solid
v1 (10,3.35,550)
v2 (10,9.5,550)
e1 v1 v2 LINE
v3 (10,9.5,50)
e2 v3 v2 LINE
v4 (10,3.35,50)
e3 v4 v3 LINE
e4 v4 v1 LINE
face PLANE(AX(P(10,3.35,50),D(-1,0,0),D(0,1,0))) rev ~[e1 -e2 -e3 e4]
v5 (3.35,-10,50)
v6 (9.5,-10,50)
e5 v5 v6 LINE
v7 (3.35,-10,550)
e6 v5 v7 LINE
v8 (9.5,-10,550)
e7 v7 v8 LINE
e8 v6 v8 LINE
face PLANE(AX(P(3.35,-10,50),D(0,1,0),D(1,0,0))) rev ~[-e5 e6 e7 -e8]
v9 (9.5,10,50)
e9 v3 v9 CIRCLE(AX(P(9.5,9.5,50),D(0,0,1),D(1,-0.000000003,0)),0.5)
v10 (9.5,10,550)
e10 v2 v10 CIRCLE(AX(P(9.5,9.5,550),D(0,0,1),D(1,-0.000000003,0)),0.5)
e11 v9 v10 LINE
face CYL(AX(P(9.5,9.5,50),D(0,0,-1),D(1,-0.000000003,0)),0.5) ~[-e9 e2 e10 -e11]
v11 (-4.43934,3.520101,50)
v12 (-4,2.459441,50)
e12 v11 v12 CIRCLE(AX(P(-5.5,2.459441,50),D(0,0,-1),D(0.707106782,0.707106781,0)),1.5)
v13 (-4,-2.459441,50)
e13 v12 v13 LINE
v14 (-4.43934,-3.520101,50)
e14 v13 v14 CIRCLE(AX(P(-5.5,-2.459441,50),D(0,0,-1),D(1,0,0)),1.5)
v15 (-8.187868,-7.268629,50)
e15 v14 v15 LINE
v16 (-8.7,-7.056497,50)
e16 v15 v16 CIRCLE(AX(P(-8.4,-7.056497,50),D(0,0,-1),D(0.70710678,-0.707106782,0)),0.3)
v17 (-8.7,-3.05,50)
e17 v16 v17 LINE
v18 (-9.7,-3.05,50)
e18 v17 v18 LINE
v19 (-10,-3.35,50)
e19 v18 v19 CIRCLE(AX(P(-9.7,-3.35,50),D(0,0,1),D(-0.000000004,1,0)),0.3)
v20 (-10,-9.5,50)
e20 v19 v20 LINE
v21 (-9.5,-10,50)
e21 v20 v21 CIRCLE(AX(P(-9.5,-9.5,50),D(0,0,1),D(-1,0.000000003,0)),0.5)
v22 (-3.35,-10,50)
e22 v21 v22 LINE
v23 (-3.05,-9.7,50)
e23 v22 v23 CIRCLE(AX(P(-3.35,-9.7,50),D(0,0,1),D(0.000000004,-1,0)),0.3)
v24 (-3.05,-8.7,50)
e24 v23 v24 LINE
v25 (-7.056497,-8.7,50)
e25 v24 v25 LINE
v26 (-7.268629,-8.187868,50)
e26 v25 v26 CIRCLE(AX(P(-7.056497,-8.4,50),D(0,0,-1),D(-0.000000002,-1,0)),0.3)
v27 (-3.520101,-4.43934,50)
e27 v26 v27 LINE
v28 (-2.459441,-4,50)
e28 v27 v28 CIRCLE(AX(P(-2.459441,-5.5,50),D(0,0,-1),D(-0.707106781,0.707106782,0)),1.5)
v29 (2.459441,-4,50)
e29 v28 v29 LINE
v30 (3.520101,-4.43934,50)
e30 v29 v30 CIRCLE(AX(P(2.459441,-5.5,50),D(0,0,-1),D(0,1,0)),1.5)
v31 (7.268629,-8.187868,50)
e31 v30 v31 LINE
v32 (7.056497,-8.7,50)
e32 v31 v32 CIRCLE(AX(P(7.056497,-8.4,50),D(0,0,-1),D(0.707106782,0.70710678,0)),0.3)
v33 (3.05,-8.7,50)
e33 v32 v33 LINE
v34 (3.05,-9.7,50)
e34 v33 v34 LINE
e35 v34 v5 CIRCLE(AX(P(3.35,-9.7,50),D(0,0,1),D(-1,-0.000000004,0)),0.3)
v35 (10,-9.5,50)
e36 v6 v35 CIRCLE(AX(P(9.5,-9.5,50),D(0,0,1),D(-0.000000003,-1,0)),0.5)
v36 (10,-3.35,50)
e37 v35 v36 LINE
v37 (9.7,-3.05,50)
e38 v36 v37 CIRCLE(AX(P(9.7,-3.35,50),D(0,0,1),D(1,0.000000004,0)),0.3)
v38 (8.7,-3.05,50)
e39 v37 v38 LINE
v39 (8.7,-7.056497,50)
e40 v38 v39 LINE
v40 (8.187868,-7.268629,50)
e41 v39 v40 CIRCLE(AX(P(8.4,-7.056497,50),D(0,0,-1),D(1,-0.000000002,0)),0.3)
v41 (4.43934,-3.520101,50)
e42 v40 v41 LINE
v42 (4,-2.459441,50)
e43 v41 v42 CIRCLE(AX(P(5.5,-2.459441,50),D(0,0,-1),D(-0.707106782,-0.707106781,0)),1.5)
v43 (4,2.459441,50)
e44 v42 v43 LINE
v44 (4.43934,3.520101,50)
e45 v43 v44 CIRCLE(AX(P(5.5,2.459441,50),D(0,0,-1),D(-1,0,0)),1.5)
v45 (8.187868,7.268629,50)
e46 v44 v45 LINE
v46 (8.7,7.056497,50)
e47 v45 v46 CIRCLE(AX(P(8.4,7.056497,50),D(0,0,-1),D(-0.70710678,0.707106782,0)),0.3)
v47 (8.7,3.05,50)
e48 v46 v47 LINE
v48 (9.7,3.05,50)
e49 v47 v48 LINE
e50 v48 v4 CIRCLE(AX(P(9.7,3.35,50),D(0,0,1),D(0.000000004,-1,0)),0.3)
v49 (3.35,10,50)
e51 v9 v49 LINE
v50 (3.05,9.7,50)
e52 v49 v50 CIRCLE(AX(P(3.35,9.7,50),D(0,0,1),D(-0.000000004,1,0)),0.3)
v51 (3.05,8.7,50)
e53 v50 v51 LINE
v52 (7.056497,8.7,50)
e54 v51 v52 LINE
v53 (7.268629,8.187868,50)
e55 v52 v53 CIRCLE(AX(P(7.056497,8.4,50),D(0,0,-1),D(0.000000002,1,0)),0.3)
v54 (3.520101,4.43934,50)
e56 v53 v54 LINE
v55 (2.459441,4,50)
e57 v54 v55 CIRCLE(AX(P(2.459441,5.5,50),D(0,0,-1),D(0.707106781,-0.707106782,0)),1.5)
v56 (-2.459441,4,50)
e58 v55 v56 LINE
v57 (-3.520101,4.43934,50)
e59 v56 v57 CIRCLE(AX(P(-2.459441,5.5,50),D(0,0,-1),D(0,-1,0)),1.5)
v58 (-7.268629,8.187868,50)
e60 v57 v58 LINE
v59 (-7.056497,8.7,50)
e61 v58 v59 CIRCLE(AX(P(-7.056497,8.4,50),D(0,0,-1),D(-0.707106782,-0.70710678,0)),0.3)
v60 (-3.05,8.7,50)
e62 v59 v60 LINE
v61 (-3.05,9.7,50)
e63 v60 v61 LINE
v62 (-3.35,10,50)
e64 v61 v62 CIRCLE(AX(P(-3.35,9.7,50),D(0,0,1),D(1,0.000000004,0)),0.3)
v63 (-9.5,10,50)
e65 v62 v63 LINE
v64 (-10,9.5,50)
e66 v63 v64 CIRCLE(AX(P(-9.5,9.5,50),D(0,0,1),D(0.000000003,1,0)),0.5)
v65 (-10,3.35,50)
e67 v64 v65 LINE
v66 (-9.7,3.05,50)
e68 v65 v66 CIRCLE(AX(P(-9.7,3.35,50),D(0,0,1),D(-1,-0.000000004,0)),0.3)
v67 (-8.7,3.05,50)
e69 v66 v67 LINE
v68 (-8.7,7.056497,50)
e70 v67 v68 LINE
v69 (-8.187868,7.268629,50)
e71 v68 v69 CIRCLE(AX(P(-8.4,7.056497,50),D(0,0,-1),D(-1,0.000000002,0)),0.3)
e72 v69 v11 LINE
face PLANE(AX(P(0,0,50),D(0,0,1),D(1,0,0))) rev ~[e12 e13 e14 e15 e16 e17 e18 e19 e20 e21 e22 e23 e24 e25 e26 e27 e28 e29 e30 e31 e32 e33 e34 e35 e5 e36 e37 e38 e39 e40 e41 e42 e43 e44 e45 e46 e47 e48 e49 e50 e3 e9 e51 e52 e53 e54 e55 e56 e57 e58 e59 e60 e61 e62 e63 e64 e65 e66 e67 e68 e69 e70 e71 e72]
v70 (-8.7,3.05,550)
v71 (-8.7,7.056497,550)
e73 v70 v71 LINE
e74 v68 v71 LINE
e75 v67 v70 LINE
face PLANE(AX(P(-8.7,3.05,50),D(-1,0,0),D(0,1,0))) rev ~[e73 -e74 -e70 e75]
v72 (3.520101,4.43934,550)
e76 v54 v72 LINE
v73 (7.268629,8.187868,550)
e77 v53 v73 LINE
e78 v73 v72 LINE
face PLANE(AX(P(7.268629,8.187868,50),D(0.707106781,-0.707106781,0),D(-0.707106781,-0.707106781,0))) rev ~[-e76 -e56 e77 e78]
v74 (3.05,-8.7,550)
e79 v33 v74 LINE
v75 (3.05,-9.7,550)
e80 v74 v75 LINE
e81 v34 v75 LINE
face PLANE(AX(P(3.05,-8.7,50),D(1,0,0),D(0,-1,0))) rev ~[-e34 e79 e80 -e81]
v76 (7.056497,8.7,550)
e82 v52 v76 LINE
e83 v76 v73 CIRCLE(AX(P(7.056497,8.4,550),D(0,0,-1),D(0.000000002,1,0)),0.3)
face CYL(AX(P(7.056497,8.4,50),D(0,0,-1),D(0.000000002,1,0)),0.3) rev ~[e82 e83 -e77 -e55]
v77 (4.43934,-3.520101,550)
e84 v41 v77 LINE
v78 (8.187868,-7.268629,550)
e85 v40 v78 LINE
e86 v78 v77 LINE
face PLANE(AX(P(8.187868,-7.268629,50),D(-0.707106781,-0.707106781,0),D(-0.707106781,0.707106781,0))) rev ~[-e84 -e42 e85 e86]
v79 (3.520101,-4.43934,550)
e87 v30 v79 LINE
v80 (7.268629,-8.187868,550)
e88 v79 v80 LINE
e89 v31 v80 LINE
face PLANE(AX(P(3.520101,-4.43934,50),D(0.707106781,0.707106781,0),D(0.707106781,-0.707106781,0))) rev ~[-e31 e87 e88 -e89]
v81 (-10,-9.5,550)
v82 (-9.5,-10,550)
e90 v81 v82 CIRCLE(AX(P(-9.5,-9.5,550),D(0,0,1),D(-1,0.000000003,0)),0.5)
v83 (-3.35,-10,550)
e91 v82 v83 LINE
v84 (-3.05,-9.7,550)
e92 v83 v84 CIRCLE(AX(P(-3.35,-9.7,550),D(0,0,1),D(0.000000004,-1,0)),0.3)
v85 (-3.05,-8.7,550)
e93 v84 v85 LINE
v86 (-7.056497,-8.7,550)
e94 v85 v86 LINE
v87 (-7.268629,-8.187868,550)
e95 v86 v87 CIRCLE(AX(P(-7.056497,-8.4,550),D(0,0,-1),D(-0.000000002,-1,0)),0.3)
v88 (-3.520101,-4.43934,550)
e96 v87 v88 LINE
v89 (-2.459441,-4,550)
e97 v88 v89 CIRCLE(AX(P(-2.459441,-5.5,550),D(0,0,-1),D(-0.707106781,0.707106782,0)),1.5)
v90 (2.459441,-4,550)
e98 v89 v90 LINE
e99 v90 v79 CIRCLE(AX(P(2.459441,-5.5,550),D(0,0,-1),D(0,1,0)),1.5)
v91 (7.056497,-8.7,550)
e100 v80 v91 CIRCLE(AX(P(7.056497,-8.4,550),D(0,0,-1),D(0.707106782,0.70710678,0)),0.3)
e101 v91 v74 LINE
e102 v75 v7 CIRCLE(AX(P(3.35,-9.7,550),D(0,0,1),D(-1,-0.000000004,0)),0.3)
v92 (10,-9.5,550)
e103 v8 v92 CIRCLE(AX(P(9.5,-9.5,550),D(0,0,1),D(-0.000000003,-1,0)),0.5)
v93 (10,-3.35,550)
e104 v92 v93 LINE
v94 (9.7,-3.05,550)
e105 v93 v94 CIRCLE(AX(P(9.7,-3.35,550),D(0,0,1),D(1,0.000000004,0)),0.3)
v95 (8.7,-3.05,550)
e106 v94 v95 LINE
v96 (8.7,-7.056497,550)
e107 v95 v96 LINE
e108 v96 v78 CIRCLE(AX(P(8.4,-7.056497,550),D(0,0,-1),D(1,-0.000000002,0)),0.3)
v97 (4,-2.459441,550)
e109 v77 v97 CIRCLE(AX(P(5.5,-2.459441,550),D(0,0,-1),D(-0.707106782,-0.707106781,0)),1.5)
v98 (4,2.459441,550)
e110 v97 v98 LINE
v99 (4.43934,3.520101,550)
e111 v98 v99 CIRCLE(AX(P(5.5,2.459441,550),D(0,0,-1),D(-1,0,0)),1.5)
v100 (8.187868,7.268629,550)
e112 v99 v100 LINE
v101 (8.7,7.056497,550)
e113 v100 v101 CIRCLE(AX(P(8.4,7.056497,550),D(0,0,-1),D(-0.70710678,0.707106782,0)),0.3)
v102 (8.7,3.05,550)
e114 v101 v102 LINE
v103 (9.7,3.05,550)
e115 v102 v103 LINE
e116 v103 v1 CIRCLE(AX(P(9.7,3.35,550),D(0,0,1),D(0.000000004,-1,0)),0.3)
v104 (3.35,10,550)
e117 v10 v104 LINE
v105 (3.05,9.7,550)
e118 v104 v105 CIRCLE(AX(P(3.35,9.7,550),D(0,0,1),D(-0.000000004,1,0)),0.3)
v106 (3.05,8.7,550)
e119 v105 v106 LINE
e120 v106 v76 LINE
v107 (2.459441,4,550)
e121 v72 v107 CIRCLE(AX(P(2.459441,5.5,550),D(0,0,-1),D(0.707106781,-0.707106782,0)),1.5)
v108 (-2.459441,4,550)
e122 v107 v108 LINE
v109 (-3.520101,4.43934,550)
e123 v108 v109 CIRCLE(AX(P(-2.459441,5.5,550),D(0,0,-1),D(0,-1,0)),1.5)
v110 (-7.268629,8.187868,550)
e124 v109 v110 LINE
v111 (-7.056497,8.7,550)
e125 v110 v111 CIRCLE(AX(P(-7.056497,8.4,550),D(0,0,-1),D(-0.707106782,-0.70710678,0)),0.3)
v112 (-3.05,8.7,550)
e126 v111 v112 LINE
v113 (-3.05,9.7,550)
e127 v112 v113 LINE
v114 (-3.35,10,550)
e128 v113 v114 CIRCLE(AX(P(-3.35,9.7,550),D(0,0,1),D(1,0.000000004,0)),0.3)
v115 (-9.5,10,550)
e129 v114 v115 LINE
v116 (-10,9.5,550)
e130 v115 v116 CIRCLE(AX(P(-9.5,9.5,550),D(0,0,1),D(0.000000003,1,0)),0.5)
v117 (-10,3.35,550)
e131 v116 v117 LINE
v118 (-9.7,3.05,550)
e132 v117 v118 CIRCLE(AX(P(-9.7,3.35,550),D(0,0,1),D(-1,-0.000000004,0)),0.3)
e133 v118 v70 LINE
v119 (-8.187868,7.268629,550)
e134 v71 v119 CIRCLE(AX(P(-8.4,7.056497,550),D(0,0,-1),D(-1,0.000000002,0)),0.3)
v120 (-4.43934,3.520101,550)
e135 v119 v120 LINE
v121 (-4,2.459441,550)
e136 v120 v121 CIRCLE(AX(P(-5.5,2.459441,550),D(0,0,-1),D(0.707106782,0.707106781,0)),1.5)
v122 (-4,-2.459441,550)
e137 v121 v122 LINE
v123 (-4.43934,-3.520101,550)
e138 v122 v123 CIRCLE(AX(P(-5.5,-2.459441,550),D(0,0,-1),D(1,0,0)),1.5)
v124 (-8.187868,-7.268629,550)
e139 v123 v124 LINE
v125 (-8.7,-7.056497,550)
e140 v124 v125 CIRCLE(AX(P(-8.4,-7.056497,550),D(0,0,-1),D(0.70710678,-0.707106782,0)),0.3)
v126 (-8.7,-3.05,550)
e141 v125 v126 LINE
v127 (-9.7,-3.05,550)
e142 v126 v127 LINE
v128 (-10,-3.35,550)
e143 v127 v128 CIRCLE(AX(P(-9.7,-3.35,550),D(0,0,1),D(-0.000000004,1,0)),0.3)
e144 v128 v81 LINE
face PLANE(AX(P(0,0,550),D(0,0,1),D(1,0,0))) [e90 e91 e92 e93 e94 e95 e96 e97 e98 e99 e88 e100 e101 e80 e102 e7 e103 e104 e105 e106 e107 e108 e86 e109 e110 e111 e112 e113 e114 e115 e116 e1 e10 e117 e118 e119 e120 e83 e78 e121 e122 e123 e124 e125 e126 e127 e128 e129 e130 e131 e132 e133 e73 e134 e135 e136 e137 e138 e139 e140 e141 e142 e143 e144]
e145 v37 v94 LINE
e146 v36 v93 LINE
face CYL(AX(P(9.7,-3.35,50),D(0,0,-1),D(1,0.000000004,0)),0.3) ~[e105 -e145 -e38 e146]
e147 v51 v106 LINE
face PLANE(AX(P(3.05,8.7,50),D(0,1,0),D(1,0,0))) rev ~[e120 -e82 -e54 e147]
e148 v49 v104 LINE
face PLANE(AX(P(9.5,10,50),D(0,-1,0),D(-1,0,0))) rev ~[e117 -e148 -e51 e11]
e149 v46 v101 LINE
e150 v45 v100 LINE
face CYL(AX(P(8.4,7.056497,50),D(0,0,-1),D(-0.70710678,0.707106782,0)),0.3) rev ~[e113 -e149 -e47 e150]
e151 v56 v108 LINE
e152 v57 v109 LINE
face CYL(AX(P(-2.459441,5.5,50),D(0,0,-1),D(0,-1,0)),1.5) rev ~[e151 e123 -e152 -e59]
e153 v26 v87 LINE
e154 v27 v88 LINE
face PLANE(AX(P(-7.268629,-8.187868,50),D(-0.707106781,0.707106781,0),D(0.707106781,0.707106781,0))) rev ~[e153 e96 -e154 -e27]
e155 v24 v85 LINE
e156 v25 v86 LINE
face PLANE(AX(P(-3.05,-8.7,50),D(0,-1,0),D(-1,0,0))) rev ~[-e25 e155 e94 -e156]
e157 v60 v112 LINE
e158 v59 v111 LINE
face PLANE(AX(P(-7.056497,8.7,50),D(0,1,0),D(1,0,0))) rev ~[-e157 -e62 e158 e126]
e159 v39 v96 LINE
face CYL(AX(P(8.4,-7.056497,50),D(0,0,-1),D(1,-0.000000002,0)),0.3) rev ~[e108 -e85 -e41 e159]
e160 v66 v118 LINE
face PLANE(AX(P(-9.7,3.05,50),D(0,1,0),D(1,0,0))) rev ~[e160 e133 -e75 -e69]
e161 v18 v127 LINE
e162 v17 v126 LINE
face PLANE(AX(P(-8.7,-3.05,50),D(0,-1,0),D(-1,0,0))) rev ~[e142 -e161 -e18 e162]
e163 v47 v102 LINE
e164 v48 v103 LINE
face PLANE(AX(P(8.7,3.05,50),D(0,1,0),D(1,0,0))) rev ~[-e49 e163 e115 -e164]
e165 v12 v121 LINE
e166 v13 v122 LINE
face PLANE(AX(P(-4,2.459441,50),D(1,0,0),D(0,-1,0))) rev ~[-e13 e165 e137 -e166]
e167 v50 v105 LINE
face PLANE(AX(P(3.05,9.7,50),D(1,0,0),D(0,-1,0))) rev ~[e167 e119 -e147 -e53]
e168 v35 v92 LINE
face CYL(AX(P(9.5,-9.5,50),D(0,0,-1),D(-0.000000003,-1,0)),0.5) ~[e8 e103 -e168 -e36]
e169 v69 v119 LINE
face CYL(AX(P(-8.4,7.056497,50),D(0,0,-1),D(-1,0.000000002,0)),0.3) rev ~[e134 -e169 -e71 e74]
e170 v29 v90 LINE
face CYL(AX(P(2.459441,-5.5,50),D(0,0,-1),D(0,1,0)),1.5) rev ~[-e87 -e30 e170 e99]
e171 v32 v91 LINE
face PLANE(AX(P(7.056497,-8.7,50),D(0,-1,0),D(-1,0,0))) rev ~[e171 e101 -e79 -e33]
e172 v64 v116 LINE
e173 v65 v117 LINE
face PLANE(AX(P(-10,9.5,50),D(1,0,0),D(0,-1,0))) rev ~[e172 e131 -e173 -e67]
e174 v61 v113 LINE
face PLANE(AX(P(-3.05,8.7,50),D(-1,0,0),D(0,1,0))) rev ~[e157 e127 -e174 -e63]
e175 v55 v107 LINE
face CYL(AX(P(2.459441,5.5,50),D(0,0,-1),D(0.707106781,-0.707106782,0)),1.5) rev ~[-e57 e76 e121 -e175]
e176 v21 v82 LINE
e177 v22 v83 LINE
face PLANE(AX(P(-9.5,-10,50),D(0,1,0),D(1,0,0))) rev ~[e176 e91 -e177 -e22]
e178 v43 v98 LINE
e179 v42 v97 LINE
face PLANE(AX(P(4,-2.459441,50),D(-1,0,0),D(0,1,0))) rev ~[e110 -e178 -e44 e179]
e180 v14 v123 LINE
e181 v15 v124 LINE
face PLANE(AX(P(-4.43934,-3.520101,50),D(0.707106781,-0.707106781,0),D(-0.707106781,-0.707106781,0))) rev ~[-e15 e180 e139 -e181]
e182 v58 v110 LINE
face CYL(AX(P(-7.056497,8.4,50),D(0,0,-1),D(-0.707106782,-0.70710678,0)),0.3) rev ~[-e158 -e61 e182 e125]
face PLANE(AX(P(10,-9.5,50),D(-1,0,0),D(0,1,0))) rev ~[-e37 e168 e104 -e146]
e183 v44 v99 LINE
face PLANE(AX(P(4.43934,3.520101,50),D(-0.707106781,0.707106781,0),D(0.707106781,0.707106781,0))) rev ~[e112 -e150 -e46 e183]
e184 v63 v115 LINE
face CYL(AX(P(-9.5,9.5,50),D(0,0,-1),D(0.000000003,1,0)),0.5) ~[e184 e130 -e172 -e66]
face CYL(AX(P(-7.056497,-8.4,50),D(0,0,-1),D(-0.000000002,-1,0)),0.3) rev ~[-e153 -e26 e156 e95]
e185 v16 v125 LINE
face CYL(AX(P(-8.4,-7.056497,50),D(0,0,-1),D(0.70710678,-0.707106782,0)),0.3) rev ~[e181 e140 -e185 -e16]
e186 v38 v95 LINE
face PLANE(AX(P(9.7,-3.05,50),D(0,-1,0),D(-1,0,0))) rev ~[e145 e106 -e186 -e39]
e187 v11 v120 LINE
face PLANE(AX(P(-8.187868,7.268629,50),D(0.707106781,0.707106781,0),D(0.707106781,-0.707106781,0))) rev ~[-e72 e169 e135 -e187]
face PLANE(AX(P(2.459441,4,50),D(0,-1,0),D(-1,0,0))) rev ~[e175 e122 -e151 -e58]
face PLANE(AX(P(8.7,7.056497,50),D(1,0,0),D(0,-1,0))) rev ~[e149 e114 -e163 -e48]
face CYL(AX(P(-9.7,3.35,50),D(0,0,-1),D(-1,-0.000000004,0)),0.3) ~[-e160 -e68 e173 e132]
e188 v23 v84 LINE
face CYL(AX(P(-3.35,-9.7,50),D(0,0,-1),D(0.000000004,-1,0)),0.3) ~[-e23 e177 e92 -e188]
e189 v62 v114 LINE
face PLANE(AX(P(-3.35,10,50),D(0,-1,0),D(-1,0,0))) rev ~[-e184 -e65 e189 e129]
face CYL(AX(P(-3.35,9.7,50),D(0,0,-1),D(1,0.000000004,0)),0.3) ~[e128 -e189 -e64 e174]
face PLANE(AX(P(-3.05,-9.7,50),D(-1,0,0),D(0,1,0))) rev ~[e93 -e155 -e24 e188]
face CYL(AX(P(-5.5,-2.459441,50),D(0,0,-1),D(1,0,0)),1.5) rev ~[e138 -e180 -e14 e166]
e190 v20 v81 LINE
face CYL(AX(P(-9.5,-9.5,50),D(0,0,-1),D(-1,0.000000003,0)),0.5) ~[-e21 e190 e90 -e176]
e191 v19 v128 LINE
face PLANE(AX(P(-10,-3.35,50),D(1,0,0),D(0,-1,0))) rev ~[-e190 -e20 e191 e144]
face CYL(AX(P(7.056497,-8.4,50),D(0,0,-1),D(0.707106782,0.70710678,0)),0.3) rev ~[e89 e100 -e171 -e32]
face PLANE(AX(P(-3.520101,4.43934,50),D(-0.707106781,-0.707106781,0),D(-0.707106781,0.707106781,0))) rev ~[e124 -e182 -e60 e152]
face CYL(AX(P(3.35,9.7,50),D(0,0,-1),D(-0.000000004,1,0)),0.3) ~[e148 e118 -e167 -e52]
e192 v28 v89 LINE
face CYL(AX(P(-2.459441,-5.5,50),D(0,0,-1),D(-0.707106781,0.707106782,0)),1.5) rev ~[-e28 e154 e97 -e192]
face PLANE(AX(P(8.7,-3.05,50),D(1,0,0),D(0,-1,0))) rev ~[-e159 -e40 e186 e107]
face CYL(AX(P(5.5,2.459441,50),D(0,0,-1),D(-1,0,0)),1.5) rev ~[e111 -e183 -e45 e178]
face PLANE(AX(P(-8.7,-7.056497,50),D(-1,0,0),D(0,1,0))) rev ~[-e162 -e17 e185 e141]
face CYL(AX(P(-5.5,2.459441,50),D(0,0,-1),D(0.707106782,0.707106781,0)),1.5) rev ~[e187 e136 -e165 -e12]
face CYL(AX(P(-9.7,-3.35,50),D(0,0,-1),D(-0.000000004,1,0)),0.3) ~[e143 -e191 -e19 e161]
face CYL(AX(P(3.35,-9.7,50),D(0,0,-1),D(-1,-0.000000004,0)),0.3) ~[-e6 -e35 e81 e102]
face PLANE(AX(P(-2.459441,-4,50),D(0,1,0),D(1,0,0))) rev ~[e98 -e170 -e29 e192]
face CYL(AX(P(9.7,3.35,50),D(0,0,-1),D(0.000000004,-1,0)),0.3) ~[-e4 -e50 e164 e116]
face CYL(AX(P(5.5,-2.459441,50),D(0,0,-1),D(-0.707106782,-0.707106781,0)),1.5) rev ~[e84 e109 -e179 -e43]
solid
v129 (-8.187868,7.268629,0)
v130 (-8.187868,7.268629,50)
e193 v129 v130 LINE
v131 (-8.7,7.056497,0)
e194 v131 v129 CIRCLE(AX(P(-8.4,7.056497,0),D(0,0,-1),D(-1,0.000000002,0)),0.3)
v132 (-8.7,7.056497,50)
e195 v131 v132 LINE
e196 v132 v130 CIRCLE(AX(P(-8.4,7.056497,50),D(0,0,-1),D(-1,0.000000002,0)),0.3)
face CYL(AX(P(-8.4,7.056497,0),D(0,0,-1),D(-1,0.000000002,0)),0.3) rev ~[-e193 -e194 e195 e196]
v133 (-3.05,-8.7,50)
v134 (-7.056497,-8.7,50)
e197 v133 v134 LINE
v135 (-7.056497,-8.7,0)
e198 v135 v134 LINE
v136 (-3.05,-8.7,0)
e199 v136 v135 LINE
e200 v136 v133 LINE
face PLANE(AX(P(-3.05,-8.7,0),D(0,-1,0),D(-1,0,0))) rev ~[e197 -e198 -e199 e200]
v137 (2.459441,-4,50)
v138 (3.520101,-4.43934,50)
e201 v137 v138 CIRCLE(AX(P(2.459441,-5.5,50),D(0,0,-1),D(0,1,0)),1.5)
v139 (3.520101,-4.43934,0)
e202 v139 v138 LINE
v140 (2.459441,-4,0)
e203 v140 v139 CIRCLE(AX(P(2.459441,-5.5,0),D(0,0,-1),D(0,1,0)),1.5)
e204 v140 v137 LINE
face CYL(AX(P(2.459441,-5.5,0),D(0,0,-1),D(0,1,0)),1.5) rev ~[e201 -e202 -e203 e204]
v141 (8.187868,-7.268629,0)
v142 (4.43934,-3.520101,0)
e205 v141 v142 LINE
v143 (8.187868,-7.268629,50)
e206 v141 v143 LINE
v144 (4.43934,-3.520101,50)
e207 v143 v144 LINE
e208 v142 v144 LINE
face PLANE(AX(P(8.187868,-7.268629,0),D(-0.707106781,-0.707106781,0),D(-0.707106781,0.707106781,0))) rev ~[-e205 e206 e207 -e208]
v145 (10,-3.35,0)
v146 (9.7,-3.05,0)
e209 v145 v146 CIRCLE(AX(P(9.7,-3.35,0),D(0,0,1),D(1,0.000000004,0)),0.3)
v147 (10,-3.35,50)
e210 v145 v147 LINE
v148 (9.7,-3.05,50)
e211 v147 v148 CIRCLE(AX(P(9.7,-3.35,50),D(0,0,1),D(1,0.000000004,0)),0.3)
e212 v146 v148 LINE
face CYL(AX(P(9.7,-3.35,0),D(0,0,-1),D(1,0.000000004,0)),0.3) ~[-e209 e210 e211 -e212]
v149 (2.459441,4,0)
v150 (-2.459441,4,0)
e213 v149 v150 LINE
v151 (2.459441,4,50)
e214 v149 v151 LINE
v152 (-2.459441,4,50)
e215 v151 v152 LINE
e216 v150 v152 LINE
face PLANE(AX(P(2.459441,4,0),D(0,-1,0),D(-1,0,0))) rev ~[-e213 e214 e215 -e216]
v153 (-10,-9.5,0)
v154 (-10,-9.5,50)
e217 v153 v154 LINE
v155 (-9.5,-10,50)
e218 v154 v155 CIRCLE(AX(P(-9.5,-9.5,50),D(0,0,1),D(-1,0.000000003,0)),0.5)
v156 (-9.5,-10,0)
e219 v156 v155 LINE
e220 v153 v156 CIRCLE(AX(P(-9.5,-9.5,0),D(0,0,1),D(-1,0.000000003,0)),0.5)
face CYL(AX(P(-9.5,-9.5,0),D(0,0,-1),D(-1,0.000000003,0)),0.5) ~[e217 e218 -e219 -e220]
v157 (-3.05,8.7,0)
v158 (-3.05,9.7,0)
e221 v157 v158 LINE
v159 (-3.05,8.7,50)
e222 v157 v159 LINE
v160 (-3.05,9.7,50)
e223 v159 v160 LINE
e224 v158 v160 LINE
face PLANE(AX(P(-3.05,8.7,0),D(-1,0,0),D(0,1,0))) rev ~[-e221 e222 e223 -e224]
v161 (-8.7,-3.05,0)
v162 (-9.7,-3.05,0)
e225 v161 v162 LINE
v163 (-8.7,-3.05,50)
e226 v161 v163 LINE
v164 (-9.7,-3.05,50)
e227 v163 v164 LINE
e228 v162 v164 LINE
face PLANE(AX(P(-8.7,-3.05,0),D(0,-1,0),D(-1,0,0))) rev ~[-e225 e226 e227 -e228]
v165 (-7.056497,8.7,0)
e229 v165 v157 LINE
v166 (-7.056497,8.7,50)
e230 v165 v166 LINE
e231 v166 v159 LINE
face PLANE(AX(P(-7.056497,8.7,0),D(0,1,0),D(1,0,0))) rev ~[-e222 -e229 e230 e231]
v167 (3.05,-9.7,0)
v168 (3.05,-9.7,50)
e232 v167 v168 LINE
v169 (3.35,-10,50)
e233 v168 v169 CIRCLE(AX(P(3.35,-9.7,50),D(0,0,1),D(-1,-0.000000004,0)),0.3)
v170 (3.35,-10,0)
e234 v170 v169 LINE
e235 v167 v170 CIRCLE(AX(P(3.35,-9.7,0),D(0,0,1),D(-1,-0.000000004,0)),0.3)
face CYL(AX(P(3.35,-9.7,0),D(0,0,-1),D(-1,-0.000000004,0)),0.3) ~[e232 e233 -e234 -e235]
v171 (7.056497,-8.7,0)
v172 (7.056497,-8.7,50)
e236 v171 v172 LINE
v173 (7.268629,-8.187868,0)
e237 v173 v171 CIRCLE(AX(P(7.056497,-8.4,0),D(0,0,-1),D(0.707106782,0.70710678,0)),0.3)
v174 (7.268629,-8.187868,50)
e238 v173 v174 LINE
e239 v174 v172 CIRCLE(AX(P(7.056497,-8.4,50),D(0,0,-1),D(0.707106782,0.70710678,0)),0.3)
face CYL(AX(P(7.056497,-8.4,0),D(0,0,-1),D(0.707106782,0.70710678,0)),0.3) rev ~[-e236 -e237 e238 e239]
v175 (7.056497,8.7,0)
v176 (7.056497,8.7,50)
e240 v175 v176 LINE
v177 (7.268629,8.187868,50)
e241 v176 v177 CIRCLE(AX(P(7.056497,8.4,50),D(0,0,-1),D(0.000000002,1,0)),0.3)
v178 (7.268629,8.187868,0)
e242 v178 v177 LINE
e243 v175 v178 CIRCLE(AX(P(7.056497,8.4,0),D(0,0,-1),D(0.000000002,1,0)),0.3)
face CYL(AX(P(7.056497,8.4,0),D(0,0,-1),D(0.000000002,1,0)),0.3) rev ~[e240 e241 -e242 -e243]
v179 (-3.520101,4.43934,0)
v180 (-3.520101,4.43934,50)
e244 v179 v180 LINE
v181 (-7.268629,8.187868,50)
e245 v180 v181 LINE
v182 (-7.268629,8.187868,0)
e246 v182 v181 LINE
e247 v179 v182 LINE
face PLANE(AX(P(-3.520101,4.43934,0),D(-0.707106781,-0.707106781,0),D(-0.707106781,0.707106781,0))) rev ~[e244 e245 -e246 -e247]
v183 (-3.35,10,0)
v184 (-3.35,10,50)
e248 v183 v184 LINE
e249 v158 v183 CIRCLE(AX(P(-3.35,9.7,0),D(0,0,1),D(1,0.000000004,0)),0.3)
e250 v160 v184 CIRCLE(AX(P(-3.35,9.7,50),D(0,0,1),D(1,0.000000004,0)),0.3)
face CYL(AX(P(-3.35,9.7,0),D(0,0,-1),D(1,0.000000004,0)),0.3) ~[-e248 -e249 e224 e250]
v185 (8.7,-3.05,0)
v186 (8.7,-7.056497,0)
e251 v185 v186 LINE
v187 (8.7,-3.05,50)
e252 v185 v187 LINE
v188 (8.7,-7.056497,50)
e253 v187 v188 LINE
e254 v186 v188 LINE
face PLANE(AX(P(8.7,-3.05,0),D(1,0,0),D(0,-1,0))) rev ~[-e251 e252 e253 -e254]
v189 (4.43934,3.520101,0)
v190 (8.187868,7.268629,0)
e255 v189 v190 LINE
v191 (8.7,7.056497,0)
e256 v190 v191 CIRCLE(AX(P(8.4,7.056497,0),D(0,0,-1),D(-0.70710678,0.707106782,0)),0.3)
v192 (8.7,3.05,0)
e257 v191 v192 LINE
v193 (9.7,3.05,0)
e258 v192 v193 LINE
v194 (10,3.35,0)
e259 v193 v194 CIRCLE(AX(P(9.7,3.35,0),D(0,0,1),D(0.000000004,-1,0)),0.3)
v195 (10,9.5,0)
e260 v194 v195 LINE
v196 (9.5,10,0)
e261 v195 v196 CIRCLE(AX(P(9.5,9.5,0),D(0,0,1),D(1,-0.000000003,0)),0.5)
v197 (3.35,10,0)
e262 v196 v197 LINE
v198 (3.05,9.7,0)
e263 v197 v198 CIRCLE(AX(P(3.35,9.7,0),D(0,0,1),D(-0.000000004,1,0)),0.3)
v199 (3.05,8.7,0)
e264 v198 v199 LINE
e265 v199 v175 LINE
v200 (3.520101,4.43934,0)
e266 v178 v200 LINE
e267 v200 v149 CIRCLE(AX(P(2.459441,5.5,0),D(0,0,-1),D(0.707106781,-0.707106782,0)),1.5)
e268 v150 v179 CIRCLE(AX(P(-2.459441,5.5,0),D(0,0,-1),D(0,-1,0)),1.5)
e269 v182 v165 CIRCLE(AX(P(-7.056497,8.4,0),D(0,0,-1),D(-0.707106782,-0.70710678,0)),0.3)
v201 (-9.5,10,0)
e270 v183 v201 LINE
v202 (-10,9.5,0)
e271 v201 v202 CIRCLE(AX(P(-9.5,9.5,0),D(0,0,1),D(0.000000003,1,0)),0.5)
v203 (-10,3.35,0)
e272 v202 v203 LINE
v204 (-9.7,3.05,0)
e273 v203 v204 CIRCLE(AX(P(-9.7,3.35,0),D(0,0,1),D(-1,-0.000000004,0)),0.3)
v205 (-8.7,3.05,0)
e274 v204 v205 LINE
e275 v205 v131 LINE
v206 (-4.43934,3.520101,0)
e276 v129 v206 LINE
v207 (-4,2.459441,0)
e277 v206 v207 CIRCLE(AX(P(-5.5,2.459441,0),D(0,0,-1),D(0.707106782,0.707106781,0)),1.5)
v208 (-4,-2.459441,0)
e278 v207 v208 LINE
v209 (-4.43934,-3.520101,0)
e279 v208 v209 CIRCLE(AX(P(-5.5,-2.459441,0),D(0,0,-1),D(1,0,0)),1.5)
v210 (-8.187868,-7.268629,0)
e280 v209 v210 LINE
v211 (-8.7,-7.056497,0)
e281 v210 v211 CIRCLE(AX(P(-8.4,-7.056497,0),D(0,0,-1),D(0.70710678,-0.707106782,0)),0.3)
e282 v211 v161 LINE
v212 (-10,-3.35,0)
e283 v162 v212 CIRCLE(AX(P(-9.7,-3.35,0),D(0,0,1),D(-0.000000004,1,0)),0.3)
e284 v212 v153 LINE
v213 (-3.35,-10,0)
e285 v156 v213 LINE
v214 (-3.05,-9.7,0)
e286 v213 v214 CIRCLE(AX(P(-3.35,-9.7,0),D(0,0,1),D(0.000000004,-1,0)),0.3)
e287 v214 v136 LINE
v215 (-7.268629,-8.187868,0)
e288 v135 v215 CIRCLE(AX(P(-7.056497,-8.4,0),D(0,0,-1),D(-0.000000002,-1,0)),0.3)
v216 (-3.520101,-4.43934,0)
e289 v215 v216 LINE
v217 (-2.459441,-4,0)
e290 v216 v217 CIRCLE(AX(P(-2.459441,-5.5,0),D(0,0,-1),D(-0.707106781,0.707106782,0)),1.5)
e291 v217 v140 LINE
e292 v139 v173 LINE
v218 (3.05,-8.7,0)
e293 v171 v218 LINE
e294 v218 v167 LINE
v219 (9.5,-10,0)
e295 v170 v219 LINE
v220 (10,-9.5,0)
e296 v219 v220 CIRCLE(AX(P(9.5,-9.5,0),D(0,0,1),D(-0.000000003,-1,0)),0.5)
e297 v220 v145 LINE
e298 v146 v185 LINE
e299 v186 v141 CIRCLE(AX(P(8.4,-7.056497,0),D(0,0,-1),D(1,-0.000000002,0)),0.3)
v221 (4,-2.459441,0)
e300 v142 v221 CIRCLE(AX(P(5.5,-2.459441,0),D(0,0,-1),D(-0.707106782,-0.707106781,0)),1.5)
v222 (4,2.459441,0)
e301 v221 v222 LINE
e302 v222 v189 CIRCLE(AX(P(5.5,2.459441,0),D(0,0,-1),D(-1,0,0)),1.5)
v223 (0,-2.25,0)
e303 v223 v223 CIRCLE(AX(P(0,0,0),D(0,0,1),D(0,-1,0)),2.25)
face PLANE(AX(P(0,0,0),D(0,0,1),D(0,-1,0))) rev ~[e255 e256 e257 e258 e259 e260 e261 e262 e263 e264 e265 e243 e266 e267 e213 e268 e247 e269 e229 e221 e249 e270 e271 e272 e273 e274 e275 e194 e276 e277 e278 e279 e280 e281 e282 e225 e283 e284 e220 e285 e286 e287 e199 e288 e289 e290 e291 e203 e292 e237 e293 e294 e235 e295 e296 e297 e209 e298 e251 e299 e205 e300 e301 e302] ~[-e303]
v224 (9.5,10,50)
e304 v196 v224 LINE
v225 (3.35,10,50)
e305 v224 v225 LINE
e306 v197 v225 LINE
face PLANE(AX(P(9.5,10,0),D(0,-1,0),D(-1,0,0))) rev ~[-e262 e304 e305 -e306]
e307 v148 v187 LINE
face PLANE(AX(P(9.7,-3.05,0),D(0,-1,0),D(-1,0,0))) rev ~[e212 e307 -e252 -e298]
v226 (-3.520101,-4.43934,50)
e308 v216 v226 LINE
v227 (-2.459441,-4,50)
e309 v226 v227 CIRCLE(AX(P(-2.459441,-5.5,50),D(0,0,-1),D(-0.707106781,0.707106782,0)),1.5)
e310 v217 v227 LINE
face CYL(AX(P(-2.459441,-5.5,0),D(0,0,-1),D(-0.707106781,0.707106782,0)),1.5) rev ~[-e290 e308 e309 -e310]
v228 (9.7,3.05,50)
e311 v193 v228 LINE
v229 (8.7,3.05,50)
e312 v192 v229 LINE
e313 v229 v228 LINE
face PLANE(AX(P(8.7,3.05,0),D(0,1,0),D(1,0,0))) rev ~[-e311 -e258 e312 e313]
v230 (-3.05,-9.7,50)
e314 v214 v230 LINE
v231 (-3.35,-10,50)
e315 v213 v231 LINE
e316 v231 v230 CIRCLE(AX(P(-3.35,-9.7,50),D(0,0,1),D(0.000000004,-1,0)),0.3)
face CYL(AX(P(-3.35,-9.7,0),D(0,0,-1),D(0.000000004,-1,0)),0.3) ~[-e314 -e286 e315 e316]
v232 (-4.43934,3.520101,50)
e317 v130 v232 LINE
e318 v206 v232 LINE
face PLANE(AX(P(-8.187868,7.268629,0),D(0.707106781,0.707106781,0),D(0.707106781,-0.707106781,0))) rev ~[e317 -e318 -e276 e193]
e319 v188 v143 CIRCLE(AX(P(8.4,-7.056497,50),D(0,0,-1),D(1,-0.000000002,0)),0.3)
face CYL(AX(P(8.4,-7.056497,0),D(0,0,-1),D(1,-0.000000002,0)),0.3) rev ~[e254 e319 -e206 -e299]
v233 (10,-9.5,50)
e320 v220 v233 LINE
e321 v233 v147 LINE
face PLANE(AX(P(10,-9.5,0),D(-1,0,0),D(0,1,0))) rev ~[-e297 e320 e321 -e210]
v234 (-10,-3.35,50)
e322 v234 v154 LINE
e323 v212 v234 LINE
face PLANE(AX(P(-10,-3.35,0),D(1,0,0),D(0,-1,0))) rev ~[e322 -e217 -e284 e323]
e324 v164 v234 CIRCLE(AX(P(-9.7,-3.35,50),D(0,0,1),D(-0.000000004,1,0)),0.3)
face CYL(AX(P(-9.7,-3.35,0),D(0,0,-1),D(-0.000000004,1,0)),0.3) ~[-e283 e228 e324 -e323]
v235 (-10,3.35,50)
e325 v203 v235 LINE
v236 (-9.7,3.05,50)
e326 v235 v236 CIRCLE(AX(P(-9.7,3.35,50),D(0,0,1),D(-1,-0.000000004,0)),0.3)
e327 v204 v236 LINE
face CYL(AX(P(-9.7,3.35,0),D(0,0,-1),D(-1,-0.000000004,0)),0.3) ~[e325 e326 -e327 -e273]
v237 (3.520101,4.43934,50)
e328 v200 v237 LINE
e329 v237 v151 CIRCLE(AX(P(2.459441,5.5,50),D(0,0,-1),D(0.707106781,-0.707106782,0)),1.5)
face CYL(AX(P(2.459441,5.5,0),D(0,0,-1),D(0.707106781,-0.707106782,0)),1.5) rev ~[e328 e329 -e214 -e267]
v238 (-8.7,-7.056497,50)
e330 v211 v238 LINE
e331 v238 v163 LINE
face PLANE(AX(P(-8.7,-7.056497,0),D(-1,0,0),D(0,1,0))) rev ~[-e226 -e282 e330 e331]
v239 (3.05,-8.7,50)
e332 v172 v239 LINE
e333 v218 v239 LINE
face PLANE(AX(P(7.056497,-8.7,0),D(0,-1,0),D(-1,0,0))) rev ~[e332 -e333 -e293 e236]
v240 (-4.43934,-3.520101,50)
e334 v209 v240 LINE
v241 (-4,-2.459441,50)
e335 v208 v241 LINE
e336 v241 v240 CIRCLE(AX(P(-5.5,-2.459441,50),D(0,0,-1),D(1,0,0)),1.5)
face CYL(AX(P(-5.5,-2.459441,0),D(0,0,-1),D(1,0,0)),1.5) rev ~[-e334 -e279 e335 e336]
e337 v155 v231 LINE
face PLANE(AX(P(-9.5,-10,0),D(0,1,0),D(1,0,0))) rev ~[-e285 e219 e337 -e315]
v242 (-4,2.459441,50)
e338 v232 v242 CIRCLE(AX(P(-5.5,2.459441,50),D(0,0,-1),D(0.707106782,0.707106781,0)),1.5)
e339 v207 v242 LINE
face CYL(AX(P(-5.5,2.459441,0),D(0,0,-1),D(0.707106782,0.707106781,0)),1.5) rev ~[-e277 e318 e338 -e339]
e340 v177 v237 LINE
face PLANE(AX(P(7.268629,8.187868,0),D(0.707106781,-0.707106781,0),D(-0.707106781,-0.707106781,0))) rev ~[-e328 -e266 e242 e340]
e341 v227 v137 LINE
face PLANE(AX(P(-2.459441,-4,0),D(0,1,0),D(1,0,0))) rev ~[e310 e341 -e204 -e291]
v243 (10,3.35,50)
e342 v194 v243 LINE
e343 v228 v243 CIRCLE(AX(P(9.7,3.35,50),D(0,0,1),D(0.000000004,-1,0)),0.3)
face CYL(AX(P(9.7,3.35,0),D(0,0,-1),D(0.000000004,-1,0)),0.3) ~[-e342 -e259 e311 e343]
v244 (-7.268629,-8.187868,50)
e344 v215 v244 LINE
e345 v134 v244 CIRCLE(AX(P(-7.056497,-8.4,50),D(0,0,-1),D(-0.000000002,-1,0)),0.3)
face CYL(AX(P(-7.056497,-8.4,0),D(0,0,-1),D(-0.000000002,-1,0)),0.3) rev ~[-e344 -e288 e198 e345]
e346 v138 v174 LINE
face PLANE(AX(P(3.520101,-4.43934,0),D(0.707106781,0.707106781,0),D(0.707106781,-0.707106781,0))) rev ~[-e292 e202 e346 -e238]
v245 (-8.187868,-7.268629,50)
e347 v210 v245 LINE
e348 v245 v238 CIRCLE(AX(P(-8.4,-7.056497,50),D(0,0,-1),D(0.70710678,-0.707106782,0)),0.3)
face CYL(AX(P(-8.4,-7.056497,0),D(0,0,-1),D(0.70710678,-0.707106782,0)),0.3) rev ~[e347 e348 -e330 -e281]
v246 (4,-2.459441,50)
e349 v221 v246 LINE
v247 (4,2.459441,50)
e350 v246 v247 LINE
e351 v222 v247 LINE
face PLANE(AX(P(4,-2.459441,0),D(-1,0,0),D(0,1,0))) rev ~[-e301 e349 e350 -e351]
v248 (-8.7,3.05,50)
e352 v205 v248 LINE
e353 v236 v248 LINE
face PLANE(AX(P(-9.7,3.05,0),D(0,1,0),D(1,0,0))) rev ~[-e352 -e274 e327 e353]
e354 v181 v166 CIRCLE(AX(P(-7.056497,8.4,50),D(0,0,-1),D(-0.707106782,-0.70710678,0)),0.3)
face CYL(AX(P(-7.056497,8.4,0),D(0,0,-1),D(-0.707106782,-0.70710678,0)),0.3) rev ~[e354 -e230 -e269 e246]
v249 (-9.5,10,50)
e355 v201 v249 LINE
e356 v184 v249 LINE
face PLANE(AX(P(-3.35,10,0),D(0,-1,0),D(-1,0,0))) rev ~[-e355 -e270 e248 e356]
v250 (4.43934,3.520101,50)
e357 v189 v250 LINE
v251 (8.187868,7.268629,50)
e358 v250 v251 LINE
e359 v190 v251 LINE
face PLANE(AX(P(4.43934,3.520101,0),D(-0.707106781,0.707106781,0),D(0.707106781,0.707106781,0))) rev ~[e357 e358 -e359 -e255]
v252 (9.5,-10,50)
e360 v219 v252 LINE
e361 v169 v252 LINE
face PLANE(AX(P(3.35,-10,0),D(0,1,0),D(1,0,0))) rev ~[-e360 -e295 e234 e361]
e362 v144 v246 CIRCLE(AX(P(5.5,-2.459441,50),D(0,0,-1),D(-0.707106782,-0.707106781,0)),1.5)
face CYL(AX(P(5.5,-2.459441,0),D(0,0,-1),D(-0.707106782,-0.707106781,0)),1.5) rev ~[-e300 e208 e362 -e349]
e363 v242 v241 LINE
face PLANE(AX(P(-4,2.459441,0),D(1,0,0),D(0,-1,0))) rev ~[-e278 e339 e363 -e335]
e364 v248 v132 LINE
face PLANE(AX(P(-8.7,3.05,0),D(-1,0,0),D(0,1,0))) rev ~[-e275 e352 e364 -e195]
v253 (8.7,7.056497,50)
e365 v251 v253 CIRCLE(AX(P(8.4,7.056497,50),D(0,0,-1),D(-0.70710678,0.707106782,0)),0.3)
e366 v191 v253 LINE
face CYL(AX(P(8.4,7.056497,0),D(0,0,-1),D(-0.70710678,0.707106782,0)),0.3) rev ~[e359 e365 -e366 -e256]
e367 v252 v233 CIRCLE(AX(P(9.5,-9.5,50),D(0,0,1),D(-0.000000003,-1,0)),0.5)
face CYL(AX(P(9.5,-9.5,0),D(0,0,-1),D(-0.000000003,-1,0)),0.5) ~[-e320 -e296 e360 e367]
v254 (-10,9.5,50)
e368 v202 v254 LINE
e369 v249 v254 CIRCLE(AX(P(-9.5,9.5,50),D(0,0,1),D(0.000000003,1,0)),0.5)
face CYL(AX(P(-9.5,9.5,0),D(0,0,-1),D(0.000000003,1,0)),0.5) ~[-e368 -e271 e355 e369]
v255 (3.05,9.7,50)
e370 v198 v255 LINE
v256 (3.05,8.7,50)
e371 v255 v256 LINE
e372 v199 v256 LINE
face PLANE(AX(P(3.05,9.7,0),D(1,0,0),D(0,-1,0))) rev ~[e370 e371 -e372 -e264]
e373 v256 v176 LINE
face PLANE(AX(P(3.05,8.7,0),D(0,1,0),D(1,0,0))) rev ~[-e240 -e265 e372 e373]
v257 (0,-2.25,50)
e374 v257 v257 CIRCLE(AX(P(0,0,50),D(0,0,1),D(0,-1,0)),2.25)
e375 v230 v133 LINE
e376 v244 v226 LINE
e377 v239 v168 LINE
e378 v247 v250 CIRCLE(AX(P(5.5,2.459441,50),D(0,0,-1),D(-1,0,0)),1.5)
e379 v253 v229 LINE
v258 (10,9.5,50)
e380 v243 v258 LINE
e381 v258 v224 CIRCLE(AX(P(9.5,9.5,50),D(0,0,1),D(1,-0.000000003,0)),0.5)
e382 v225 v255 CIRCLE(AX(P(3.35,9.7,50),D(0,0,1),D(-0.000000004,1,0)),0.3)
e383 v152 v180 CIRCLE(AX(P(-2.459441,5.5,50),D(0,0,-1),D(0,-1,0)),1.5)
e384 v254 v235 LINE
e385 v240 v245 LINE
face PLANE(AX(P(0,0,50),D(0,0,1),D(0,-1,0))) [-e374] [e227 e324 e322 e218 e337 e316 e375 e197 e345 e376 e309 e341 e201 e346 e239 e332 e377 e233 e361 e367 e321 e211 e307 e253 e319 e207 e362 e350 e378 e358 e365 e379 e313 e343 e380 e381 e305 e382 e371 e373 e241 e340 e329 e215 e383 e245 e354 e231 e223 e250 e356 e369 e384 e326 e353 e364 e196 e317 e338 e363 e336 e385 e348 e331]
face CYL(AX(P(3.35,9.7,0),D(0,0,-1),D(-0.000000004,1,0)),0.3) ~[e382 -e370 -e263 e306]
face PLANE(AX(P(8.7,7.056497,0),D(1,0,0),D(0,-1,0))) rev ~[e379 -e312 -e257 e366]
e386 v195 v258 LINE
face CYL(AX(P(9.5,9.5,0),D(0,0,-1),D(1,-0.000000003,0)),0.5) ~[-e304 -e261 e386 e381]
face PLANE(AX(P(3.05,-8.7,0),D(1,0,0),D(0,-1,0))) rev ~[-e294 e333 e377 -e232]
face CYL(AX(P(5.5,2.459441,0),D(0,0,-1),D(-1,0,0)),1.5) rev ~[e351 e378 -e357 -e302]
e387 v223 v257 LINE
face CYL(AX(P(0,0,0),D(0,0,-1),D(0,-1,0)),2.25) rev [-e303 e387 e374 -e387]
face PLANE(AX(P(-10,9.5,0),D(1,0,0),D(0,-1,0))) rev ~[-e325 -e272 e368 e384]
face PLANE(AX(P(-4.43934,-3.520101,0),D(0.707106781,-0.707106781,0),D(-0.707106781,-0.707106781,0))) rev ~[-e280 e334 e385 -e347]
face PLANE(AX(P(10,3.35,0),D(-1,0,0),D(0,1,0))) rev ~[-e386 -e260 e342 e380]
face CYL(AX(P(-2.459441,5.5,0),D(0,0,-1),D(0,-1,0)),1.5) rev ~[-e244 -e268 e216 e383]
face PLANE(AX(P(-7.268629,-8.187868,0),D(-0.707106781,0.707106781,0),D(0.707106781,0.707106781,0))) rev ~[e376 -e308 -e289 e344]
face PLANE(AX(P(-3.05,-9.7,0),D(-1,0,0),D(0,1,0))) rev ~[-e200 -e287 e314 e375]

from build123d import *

# Parameters (mm, degrees)
ESBO_O11_R                                   = 2.25
QUADRADO_PF20_21_PERFIL_2020_T_SLOT_6M_DEPTH = 50
SALIENTE_EXTRUIR1_DEPTH                      = 500


with BuildPart() as part:
    # Esboço11 → Quadrado PF20-21 - PERFIL 2020 T-SLOT 6MM(1) (new body)
    with BuildSketch(Plane(origin=(0, 0, 0), x_dir=(0, -1, 0), z_dir=(0, 0, 1))):
        with BuildLine():
            Line((8.187867966, -7.26862915), (4.439339828, -3.520101013))
            ThreePointArc((4.439339828, -3.520101013), (4.114180701, -3.033465989), (4, -2.459440841))
            Line((4, -2.459440841), (4, 2.459440841))
            ThreePointArc((4, 2.459440841), (4.114180701, 3.033465989), (4.439339828, 3.520101013))
            Line((4.439339828, 3.520101013), (8.187867966, 7.26862915))
            ThreePointArc((8.187867966, 7.26862915), (8.51480503, 7.333660975), (8.7, 7.056497116))
            Line((8.7, 7.056497116), (8.7, 3.05))
            Line((8.7, 3.05), (9.7, 3.05))
            ThreePointArc((9.7, 3.05), (9.912132034, 3.137867966), (10, 3.35))
            Line((10, 3.35), (10, 9.5))
            ThreePointArc((10, 9.5), (9.853553391, 9.853553391), (9.5, 10))
            Line((9.5, 10), (3.35, 10))
            ThreePointArc((3.35, 10), (3.137867966, 9.912132034), (3.05, 9.7))
            Line((3.05, 9.7), (3.05, 8.7))
            Line((3.05, 8.7), (7.056497116, 8.7))
            ThreePointArc((7.056497116, 8.7), (7.333660975, 8.51480503), (7.26862915, 8.187867966))
            Line((7.26862915, 8.187867966), (3.520101013, 4.439339828))
            ThreePointArc((3.520101013, 4.439339828), (3.033465989, 4.114180701), (2.459440841, 4))
            Line((2.459440841, 4), (-2.459440841, 4))
            ThreePointArc((-2.459440841, 4), (-3.033465989, 4.114180701), (-3.520101013, 4.439339828))
            Line((-3.520101013, 4.439339828), (-7.26862915, 8.187867966))
            ThreePointArc((-7.26862915, 8.187867966), (-7.333660975, 8.51480503), (-7.056497116, 8.7))
            Line((-7.056497116, 8.7), (-3.05, 8.7))
            Line((-3.05, 8.7), (-3.05, 9.7))
            ThreePointArc((-3.05, 9.7), (-3.137867966, 9.912132034), (-3.35, 10))
            Line((-3.35, 10), (-9.5, 10))
            ThreePointArc((-9.5, 10), (-9.853553391, 9.853553391), (-10, 9.5))
            Line((-10, 9.5), (-10, 3.35))
            ThreePointArc((-10, 3.35), (-9.912132034, 3.137867966), (-9.7, 3.05))
            Line((-9.7, 3.05), (-8.7, 3.05))
            Line((-8.7, 3.05), (-8.7, 7.056497116))
            ThreePointArc((-8.7, 7.056497116), (-8.51480503, 7.333660975), (-8.187867966, 7.26862915))
            Line((-8.187867966, 7.26862915), (-4.439339828, 3.520101013))
            ThreePointArc((-4.439339828, 3.520101013), (-4.114180701, 3.033465989), (-4, 2.459440841))
            Line((-4, 2.459440841), (-4, -2.459440841))
            ThreePointArc((-4, -2.459440841), (-4.114180701, -3.033465989), (-4.439339828, -3.520101013))
            Line((-4.439339828, -3.520101013), (-8.187867966, -7.26862915))
            ThreePointArc((-8.187867966, -7.26862915), (-8.51480503, -7.333660975), (-8.7, -7.056497116))
            Line((-8.7, -7.056497116), (-8.7, -3.05))
            Line((-8.7, -3.05), (-9.7, -3.05))
            ThreePointArc((-9.7, -3.05), (-9.912132034, -3.137867966), (-10, -3.35))
            Line((-10, -3.35), (-10, -9.5))
            ThreePointArc((-10, -9.5), (-9.853553391, -9.853553391), (-9.5, -10))
            Line((-9.5, -10), (-3.35, -10))
            ThreePointArc((-3.35, -10), (-3.137867966, -9.912132034), (-3.05, -9.7))
            Line((-3.05, -9.7), (-3.05, -8.7))
            Line((-3.05, -8.7), (-7.056497116, -8.7))
            ThreePointArc((-7.056497116, -8.7), (-7.333660975, -8.51480503), (-7.26862915, -8.187867966))
            Line((-7.26862915, -8.187867966), (-3.520101013, -4.439339828))
            ThreePointArc((-3.520101013, -4.439339828), (-3.033465989, -4.114180701), (-2.459440841, -4))
            Line((-2.459440841, -4), (2.459440841, -4))
            ThreePointArc((2.459440841, -4), (3.033465989, -4.114180701), (3.520101013, -4.439339828))
            Line((3.520101013, -4.439339828), (7.26862915, -8.187867966))
            ThreePointArc((7.26862915, -8.187867966), (7.333660975, -8.51480503), (7.056497116, -8.7))
            Line((7.056497116, -8.7), (3.05, -8.7))
            Line((3.05, -8.7), (3.05, -9.7))
            ThreePointArc((3.05, -9.7), (3.137867966, -9.912132034), (3.35, -10))
            Line((3.35, -10), (9.5, -10))
            ThreePointArc((9.5, -10), (9.853553391, -9.853553391), (10, -9.5))
            Line((10, -9.5), (10, -3.35))
            ThreePointArc((10, -3.35), (9.912132034, -3.137867966), (9.7, -3.05))
            Line((9.7, -3.05), (8.7, -3.05))
            Line((8.7, -3.05), (8.7, -7.056497116))
            ThreePointArc((8.7, -7.056497116), (8.51480503, -7.333660975), (8.187867966, -7.26862915))
        make_face()
        Circle(ESBO_O11_R, mode=Mode.SUBTRACT)
    extrude(amount=QUADRADO_PF20_21_PERFIL_2020_T_SLOT_6M_DEPTH)


with BuildPart() as body_2:
    # Croquis1 → Saliente-Extruir1 (new body)
    with BuildSketch(Plane.XY.offset(50)):
        with BuildLine():
            Line((-7.26862915, -8.187867966), (-3.520101013, -4.439339828))
            ThreePointArc((-3.520101013, -4.439339828), (-3.033465989, -4.114180701), (-2.459440841, -4))
            Line((-2.459440841, -4), (2.459440841, -4))
            ThreePointArc((2.459440841, -4), (3.033465989, -4.114180701), (3.520101013, -4.439339828))
            Line((3.520101013, -4.439339828), (7.26862915, -8.187867966))
            ThreePointArc((7.26862915, -8.187867966), (7.333660975, -8.51480503), (7.056497116, -8.7))
            Line((7.056497116, -8.7), (3.05, -8.7))
            Line((3.05, -8.7), (3.05, -9.7))
            ThreePointArc((3.05, -9.7), (3.137867966, -9.912132034), (3.35, -10))
            Line((3.35, -10), (9.5, -10))
            ThreePointArc((9.5, -10), (9.853553391, -9.853553391), (10, -9.5))
            Line((10, -9.5), (10, -3.35))
            ThreePointArc((10, -3.35), (9.912132034, -3.137867966), (9.7, -3.05))
            Line((9.7, -3.05), (8.7, -3.05))
            Line((8.7, -3.05), (8.7, -7.056497116))
            ThreePointArc((8.7, -7.056497116), (8.51480503, -7.333660975), (8.187867966, -7.26862915))
            Line((8.187867966, -7.26862915), (4.439339828, -3.520101013))
            ThreePointArc((4.439339828, -3.520101013), (4.114180701, -3.033465989), (4, -2.459440841))
            Line((4, -2.459440841), (4, 2.459440841))
            ThreePointArc((4, 2.459440841), (4.114180701, 3.033465989), (4.439339828, 3.520101013))
            Line((4.439339828, 3.520101013), (8.187867966, 7.26862915))
            ThreePointArc((8.187867966, 7.26862915), (8.51480503, 7.333660975), (8.7, 7.056497116))
            Line((8.7, 7.056497116), (8.7, 3.05))
            Line((8.7, 3.05), (9.7, 3.05))
            ThreePointArc((9.7, 3.05), (9.912132034, 3.137867966), (10, 3.35))
            Line((10, 3.35), (10, 9.5))
            ThreePointArc((10, 9.5), (9.853553391, 9.853553391), (9.5, 10))
            Line((9.5, 10), (3.35, 10))
            ThreePointArc((3.35, 10), (3.137867966, 9.912132034), (3.05, 9.7))
            Line((3.05, 9.7), (3.05, 8.7))
            Line((3.05, 8.7), (7.056497116, 8.7))
            ThreePointArc((7.056497116, 8.7), (7.333660975, 8.51480503), (7.26862915, 8.187867966))
            Line((7.26862915, 8.187867966), (3.520101013, 4.439339828))
            ThreePointArc((3.520101013, 4.439339828), (3.033465989, 4.114180701), (2.459440841, 4))
            Line((2.459440841, 4), (-2.459440841, 4))
            ThreePointArc((-2.459440841, 4), (-3.033465989, 4.114180701), (-3.520101013, 4.439339828))
            Line((-3.520101013, 4.439339828), (-7.26862915, 8.187867966))
            ThreePointArc((-7.26862915, 8.187867966), (-7.333660975, 8.51480503), (-7.056497116, 8.7))
            Line((-7.056497116, 8.7), (-3.05, 8.7))
            Line((-3.05, 8.7), (-3.05, 9.7))
            ThreePointArc((-3.05, 9.7), (-3.137867966, 9.912132034), (-3.35, 10))
            Line((-3.35, 10), (-9.5, 10))
            ThreePointArc((-9.5, 10), (-9.853553391, 9.853553391), (-10, 9.5))
            Line((-10, 9.5), (-10, 3.35))
            ThreePointArc((-10, 3.35), (-9.912132034, 3.137867966), (-9.7, 3.05))
            Line((-9.7, 3.05), (-8.7, 3.05))
            Line((-8.7, 3.05), (-8.7, 7.056497116))
            ThreePointArc((-8.7, 7.056497116), (-8.51480503, 7.333660975), (-8.187867966, 7.26862915))
            Line((-8.187867966, 7.26862915), (-4.439339828, 3.520101013))
            ThreePointArc((-4.439339828, 3.520101013), (-4.114180701, 3.033465989), (-4, 2.459440841))
            Line((-4, 2.459440841), (-4, -2.459440841))
            ThreePointArc((-4, -2.459440841), (-4.114180701, -3.033465989), (-4.439339828, -3.520101013))
            Line((-4.439339828, -3.520101013), (-8.187867966, -7.26862915))
            ThreePointArc((-8.187867966, -7.26862915), (-8.51480503, -7.333660975), (-8.7, -7.056497116))
            Line((-8.7, -7.056497116), (-8.7, -3.05))
            Line((-8.7, -3.05), (-9.7, -3.05))
            ThreePointArc((-9.7, -3.05), (-9.912132034, -3.137867966), (-10, -3.35))
            Line((-10, -3.35), (-10, -9.5))
            ThreePointArc((-10, -9.5), (-9.853553391, -9.853553391), (-9.5, -10))
            Line((-9.5, -10), (-3.35, -10))
            ThreePointArc((-3.35, -10), (-3.137867966, -9.912132034), (-3.05, -9.7))
            Line((-3.05, -9.7), (-3.05, -8.7))
            Line((-3.05, -8.7), (-7.056497116, -8.7))
            ThreePointArc((-7.056497116, -8.7), (-7.333660975, -8.51480503), (-7.26862915, -8.187867966))
        make_face()
    extrude(amount=SALIENTE_EXTRUIR1_DEPTH)


solid = Compound([part.part, body_2.part])
